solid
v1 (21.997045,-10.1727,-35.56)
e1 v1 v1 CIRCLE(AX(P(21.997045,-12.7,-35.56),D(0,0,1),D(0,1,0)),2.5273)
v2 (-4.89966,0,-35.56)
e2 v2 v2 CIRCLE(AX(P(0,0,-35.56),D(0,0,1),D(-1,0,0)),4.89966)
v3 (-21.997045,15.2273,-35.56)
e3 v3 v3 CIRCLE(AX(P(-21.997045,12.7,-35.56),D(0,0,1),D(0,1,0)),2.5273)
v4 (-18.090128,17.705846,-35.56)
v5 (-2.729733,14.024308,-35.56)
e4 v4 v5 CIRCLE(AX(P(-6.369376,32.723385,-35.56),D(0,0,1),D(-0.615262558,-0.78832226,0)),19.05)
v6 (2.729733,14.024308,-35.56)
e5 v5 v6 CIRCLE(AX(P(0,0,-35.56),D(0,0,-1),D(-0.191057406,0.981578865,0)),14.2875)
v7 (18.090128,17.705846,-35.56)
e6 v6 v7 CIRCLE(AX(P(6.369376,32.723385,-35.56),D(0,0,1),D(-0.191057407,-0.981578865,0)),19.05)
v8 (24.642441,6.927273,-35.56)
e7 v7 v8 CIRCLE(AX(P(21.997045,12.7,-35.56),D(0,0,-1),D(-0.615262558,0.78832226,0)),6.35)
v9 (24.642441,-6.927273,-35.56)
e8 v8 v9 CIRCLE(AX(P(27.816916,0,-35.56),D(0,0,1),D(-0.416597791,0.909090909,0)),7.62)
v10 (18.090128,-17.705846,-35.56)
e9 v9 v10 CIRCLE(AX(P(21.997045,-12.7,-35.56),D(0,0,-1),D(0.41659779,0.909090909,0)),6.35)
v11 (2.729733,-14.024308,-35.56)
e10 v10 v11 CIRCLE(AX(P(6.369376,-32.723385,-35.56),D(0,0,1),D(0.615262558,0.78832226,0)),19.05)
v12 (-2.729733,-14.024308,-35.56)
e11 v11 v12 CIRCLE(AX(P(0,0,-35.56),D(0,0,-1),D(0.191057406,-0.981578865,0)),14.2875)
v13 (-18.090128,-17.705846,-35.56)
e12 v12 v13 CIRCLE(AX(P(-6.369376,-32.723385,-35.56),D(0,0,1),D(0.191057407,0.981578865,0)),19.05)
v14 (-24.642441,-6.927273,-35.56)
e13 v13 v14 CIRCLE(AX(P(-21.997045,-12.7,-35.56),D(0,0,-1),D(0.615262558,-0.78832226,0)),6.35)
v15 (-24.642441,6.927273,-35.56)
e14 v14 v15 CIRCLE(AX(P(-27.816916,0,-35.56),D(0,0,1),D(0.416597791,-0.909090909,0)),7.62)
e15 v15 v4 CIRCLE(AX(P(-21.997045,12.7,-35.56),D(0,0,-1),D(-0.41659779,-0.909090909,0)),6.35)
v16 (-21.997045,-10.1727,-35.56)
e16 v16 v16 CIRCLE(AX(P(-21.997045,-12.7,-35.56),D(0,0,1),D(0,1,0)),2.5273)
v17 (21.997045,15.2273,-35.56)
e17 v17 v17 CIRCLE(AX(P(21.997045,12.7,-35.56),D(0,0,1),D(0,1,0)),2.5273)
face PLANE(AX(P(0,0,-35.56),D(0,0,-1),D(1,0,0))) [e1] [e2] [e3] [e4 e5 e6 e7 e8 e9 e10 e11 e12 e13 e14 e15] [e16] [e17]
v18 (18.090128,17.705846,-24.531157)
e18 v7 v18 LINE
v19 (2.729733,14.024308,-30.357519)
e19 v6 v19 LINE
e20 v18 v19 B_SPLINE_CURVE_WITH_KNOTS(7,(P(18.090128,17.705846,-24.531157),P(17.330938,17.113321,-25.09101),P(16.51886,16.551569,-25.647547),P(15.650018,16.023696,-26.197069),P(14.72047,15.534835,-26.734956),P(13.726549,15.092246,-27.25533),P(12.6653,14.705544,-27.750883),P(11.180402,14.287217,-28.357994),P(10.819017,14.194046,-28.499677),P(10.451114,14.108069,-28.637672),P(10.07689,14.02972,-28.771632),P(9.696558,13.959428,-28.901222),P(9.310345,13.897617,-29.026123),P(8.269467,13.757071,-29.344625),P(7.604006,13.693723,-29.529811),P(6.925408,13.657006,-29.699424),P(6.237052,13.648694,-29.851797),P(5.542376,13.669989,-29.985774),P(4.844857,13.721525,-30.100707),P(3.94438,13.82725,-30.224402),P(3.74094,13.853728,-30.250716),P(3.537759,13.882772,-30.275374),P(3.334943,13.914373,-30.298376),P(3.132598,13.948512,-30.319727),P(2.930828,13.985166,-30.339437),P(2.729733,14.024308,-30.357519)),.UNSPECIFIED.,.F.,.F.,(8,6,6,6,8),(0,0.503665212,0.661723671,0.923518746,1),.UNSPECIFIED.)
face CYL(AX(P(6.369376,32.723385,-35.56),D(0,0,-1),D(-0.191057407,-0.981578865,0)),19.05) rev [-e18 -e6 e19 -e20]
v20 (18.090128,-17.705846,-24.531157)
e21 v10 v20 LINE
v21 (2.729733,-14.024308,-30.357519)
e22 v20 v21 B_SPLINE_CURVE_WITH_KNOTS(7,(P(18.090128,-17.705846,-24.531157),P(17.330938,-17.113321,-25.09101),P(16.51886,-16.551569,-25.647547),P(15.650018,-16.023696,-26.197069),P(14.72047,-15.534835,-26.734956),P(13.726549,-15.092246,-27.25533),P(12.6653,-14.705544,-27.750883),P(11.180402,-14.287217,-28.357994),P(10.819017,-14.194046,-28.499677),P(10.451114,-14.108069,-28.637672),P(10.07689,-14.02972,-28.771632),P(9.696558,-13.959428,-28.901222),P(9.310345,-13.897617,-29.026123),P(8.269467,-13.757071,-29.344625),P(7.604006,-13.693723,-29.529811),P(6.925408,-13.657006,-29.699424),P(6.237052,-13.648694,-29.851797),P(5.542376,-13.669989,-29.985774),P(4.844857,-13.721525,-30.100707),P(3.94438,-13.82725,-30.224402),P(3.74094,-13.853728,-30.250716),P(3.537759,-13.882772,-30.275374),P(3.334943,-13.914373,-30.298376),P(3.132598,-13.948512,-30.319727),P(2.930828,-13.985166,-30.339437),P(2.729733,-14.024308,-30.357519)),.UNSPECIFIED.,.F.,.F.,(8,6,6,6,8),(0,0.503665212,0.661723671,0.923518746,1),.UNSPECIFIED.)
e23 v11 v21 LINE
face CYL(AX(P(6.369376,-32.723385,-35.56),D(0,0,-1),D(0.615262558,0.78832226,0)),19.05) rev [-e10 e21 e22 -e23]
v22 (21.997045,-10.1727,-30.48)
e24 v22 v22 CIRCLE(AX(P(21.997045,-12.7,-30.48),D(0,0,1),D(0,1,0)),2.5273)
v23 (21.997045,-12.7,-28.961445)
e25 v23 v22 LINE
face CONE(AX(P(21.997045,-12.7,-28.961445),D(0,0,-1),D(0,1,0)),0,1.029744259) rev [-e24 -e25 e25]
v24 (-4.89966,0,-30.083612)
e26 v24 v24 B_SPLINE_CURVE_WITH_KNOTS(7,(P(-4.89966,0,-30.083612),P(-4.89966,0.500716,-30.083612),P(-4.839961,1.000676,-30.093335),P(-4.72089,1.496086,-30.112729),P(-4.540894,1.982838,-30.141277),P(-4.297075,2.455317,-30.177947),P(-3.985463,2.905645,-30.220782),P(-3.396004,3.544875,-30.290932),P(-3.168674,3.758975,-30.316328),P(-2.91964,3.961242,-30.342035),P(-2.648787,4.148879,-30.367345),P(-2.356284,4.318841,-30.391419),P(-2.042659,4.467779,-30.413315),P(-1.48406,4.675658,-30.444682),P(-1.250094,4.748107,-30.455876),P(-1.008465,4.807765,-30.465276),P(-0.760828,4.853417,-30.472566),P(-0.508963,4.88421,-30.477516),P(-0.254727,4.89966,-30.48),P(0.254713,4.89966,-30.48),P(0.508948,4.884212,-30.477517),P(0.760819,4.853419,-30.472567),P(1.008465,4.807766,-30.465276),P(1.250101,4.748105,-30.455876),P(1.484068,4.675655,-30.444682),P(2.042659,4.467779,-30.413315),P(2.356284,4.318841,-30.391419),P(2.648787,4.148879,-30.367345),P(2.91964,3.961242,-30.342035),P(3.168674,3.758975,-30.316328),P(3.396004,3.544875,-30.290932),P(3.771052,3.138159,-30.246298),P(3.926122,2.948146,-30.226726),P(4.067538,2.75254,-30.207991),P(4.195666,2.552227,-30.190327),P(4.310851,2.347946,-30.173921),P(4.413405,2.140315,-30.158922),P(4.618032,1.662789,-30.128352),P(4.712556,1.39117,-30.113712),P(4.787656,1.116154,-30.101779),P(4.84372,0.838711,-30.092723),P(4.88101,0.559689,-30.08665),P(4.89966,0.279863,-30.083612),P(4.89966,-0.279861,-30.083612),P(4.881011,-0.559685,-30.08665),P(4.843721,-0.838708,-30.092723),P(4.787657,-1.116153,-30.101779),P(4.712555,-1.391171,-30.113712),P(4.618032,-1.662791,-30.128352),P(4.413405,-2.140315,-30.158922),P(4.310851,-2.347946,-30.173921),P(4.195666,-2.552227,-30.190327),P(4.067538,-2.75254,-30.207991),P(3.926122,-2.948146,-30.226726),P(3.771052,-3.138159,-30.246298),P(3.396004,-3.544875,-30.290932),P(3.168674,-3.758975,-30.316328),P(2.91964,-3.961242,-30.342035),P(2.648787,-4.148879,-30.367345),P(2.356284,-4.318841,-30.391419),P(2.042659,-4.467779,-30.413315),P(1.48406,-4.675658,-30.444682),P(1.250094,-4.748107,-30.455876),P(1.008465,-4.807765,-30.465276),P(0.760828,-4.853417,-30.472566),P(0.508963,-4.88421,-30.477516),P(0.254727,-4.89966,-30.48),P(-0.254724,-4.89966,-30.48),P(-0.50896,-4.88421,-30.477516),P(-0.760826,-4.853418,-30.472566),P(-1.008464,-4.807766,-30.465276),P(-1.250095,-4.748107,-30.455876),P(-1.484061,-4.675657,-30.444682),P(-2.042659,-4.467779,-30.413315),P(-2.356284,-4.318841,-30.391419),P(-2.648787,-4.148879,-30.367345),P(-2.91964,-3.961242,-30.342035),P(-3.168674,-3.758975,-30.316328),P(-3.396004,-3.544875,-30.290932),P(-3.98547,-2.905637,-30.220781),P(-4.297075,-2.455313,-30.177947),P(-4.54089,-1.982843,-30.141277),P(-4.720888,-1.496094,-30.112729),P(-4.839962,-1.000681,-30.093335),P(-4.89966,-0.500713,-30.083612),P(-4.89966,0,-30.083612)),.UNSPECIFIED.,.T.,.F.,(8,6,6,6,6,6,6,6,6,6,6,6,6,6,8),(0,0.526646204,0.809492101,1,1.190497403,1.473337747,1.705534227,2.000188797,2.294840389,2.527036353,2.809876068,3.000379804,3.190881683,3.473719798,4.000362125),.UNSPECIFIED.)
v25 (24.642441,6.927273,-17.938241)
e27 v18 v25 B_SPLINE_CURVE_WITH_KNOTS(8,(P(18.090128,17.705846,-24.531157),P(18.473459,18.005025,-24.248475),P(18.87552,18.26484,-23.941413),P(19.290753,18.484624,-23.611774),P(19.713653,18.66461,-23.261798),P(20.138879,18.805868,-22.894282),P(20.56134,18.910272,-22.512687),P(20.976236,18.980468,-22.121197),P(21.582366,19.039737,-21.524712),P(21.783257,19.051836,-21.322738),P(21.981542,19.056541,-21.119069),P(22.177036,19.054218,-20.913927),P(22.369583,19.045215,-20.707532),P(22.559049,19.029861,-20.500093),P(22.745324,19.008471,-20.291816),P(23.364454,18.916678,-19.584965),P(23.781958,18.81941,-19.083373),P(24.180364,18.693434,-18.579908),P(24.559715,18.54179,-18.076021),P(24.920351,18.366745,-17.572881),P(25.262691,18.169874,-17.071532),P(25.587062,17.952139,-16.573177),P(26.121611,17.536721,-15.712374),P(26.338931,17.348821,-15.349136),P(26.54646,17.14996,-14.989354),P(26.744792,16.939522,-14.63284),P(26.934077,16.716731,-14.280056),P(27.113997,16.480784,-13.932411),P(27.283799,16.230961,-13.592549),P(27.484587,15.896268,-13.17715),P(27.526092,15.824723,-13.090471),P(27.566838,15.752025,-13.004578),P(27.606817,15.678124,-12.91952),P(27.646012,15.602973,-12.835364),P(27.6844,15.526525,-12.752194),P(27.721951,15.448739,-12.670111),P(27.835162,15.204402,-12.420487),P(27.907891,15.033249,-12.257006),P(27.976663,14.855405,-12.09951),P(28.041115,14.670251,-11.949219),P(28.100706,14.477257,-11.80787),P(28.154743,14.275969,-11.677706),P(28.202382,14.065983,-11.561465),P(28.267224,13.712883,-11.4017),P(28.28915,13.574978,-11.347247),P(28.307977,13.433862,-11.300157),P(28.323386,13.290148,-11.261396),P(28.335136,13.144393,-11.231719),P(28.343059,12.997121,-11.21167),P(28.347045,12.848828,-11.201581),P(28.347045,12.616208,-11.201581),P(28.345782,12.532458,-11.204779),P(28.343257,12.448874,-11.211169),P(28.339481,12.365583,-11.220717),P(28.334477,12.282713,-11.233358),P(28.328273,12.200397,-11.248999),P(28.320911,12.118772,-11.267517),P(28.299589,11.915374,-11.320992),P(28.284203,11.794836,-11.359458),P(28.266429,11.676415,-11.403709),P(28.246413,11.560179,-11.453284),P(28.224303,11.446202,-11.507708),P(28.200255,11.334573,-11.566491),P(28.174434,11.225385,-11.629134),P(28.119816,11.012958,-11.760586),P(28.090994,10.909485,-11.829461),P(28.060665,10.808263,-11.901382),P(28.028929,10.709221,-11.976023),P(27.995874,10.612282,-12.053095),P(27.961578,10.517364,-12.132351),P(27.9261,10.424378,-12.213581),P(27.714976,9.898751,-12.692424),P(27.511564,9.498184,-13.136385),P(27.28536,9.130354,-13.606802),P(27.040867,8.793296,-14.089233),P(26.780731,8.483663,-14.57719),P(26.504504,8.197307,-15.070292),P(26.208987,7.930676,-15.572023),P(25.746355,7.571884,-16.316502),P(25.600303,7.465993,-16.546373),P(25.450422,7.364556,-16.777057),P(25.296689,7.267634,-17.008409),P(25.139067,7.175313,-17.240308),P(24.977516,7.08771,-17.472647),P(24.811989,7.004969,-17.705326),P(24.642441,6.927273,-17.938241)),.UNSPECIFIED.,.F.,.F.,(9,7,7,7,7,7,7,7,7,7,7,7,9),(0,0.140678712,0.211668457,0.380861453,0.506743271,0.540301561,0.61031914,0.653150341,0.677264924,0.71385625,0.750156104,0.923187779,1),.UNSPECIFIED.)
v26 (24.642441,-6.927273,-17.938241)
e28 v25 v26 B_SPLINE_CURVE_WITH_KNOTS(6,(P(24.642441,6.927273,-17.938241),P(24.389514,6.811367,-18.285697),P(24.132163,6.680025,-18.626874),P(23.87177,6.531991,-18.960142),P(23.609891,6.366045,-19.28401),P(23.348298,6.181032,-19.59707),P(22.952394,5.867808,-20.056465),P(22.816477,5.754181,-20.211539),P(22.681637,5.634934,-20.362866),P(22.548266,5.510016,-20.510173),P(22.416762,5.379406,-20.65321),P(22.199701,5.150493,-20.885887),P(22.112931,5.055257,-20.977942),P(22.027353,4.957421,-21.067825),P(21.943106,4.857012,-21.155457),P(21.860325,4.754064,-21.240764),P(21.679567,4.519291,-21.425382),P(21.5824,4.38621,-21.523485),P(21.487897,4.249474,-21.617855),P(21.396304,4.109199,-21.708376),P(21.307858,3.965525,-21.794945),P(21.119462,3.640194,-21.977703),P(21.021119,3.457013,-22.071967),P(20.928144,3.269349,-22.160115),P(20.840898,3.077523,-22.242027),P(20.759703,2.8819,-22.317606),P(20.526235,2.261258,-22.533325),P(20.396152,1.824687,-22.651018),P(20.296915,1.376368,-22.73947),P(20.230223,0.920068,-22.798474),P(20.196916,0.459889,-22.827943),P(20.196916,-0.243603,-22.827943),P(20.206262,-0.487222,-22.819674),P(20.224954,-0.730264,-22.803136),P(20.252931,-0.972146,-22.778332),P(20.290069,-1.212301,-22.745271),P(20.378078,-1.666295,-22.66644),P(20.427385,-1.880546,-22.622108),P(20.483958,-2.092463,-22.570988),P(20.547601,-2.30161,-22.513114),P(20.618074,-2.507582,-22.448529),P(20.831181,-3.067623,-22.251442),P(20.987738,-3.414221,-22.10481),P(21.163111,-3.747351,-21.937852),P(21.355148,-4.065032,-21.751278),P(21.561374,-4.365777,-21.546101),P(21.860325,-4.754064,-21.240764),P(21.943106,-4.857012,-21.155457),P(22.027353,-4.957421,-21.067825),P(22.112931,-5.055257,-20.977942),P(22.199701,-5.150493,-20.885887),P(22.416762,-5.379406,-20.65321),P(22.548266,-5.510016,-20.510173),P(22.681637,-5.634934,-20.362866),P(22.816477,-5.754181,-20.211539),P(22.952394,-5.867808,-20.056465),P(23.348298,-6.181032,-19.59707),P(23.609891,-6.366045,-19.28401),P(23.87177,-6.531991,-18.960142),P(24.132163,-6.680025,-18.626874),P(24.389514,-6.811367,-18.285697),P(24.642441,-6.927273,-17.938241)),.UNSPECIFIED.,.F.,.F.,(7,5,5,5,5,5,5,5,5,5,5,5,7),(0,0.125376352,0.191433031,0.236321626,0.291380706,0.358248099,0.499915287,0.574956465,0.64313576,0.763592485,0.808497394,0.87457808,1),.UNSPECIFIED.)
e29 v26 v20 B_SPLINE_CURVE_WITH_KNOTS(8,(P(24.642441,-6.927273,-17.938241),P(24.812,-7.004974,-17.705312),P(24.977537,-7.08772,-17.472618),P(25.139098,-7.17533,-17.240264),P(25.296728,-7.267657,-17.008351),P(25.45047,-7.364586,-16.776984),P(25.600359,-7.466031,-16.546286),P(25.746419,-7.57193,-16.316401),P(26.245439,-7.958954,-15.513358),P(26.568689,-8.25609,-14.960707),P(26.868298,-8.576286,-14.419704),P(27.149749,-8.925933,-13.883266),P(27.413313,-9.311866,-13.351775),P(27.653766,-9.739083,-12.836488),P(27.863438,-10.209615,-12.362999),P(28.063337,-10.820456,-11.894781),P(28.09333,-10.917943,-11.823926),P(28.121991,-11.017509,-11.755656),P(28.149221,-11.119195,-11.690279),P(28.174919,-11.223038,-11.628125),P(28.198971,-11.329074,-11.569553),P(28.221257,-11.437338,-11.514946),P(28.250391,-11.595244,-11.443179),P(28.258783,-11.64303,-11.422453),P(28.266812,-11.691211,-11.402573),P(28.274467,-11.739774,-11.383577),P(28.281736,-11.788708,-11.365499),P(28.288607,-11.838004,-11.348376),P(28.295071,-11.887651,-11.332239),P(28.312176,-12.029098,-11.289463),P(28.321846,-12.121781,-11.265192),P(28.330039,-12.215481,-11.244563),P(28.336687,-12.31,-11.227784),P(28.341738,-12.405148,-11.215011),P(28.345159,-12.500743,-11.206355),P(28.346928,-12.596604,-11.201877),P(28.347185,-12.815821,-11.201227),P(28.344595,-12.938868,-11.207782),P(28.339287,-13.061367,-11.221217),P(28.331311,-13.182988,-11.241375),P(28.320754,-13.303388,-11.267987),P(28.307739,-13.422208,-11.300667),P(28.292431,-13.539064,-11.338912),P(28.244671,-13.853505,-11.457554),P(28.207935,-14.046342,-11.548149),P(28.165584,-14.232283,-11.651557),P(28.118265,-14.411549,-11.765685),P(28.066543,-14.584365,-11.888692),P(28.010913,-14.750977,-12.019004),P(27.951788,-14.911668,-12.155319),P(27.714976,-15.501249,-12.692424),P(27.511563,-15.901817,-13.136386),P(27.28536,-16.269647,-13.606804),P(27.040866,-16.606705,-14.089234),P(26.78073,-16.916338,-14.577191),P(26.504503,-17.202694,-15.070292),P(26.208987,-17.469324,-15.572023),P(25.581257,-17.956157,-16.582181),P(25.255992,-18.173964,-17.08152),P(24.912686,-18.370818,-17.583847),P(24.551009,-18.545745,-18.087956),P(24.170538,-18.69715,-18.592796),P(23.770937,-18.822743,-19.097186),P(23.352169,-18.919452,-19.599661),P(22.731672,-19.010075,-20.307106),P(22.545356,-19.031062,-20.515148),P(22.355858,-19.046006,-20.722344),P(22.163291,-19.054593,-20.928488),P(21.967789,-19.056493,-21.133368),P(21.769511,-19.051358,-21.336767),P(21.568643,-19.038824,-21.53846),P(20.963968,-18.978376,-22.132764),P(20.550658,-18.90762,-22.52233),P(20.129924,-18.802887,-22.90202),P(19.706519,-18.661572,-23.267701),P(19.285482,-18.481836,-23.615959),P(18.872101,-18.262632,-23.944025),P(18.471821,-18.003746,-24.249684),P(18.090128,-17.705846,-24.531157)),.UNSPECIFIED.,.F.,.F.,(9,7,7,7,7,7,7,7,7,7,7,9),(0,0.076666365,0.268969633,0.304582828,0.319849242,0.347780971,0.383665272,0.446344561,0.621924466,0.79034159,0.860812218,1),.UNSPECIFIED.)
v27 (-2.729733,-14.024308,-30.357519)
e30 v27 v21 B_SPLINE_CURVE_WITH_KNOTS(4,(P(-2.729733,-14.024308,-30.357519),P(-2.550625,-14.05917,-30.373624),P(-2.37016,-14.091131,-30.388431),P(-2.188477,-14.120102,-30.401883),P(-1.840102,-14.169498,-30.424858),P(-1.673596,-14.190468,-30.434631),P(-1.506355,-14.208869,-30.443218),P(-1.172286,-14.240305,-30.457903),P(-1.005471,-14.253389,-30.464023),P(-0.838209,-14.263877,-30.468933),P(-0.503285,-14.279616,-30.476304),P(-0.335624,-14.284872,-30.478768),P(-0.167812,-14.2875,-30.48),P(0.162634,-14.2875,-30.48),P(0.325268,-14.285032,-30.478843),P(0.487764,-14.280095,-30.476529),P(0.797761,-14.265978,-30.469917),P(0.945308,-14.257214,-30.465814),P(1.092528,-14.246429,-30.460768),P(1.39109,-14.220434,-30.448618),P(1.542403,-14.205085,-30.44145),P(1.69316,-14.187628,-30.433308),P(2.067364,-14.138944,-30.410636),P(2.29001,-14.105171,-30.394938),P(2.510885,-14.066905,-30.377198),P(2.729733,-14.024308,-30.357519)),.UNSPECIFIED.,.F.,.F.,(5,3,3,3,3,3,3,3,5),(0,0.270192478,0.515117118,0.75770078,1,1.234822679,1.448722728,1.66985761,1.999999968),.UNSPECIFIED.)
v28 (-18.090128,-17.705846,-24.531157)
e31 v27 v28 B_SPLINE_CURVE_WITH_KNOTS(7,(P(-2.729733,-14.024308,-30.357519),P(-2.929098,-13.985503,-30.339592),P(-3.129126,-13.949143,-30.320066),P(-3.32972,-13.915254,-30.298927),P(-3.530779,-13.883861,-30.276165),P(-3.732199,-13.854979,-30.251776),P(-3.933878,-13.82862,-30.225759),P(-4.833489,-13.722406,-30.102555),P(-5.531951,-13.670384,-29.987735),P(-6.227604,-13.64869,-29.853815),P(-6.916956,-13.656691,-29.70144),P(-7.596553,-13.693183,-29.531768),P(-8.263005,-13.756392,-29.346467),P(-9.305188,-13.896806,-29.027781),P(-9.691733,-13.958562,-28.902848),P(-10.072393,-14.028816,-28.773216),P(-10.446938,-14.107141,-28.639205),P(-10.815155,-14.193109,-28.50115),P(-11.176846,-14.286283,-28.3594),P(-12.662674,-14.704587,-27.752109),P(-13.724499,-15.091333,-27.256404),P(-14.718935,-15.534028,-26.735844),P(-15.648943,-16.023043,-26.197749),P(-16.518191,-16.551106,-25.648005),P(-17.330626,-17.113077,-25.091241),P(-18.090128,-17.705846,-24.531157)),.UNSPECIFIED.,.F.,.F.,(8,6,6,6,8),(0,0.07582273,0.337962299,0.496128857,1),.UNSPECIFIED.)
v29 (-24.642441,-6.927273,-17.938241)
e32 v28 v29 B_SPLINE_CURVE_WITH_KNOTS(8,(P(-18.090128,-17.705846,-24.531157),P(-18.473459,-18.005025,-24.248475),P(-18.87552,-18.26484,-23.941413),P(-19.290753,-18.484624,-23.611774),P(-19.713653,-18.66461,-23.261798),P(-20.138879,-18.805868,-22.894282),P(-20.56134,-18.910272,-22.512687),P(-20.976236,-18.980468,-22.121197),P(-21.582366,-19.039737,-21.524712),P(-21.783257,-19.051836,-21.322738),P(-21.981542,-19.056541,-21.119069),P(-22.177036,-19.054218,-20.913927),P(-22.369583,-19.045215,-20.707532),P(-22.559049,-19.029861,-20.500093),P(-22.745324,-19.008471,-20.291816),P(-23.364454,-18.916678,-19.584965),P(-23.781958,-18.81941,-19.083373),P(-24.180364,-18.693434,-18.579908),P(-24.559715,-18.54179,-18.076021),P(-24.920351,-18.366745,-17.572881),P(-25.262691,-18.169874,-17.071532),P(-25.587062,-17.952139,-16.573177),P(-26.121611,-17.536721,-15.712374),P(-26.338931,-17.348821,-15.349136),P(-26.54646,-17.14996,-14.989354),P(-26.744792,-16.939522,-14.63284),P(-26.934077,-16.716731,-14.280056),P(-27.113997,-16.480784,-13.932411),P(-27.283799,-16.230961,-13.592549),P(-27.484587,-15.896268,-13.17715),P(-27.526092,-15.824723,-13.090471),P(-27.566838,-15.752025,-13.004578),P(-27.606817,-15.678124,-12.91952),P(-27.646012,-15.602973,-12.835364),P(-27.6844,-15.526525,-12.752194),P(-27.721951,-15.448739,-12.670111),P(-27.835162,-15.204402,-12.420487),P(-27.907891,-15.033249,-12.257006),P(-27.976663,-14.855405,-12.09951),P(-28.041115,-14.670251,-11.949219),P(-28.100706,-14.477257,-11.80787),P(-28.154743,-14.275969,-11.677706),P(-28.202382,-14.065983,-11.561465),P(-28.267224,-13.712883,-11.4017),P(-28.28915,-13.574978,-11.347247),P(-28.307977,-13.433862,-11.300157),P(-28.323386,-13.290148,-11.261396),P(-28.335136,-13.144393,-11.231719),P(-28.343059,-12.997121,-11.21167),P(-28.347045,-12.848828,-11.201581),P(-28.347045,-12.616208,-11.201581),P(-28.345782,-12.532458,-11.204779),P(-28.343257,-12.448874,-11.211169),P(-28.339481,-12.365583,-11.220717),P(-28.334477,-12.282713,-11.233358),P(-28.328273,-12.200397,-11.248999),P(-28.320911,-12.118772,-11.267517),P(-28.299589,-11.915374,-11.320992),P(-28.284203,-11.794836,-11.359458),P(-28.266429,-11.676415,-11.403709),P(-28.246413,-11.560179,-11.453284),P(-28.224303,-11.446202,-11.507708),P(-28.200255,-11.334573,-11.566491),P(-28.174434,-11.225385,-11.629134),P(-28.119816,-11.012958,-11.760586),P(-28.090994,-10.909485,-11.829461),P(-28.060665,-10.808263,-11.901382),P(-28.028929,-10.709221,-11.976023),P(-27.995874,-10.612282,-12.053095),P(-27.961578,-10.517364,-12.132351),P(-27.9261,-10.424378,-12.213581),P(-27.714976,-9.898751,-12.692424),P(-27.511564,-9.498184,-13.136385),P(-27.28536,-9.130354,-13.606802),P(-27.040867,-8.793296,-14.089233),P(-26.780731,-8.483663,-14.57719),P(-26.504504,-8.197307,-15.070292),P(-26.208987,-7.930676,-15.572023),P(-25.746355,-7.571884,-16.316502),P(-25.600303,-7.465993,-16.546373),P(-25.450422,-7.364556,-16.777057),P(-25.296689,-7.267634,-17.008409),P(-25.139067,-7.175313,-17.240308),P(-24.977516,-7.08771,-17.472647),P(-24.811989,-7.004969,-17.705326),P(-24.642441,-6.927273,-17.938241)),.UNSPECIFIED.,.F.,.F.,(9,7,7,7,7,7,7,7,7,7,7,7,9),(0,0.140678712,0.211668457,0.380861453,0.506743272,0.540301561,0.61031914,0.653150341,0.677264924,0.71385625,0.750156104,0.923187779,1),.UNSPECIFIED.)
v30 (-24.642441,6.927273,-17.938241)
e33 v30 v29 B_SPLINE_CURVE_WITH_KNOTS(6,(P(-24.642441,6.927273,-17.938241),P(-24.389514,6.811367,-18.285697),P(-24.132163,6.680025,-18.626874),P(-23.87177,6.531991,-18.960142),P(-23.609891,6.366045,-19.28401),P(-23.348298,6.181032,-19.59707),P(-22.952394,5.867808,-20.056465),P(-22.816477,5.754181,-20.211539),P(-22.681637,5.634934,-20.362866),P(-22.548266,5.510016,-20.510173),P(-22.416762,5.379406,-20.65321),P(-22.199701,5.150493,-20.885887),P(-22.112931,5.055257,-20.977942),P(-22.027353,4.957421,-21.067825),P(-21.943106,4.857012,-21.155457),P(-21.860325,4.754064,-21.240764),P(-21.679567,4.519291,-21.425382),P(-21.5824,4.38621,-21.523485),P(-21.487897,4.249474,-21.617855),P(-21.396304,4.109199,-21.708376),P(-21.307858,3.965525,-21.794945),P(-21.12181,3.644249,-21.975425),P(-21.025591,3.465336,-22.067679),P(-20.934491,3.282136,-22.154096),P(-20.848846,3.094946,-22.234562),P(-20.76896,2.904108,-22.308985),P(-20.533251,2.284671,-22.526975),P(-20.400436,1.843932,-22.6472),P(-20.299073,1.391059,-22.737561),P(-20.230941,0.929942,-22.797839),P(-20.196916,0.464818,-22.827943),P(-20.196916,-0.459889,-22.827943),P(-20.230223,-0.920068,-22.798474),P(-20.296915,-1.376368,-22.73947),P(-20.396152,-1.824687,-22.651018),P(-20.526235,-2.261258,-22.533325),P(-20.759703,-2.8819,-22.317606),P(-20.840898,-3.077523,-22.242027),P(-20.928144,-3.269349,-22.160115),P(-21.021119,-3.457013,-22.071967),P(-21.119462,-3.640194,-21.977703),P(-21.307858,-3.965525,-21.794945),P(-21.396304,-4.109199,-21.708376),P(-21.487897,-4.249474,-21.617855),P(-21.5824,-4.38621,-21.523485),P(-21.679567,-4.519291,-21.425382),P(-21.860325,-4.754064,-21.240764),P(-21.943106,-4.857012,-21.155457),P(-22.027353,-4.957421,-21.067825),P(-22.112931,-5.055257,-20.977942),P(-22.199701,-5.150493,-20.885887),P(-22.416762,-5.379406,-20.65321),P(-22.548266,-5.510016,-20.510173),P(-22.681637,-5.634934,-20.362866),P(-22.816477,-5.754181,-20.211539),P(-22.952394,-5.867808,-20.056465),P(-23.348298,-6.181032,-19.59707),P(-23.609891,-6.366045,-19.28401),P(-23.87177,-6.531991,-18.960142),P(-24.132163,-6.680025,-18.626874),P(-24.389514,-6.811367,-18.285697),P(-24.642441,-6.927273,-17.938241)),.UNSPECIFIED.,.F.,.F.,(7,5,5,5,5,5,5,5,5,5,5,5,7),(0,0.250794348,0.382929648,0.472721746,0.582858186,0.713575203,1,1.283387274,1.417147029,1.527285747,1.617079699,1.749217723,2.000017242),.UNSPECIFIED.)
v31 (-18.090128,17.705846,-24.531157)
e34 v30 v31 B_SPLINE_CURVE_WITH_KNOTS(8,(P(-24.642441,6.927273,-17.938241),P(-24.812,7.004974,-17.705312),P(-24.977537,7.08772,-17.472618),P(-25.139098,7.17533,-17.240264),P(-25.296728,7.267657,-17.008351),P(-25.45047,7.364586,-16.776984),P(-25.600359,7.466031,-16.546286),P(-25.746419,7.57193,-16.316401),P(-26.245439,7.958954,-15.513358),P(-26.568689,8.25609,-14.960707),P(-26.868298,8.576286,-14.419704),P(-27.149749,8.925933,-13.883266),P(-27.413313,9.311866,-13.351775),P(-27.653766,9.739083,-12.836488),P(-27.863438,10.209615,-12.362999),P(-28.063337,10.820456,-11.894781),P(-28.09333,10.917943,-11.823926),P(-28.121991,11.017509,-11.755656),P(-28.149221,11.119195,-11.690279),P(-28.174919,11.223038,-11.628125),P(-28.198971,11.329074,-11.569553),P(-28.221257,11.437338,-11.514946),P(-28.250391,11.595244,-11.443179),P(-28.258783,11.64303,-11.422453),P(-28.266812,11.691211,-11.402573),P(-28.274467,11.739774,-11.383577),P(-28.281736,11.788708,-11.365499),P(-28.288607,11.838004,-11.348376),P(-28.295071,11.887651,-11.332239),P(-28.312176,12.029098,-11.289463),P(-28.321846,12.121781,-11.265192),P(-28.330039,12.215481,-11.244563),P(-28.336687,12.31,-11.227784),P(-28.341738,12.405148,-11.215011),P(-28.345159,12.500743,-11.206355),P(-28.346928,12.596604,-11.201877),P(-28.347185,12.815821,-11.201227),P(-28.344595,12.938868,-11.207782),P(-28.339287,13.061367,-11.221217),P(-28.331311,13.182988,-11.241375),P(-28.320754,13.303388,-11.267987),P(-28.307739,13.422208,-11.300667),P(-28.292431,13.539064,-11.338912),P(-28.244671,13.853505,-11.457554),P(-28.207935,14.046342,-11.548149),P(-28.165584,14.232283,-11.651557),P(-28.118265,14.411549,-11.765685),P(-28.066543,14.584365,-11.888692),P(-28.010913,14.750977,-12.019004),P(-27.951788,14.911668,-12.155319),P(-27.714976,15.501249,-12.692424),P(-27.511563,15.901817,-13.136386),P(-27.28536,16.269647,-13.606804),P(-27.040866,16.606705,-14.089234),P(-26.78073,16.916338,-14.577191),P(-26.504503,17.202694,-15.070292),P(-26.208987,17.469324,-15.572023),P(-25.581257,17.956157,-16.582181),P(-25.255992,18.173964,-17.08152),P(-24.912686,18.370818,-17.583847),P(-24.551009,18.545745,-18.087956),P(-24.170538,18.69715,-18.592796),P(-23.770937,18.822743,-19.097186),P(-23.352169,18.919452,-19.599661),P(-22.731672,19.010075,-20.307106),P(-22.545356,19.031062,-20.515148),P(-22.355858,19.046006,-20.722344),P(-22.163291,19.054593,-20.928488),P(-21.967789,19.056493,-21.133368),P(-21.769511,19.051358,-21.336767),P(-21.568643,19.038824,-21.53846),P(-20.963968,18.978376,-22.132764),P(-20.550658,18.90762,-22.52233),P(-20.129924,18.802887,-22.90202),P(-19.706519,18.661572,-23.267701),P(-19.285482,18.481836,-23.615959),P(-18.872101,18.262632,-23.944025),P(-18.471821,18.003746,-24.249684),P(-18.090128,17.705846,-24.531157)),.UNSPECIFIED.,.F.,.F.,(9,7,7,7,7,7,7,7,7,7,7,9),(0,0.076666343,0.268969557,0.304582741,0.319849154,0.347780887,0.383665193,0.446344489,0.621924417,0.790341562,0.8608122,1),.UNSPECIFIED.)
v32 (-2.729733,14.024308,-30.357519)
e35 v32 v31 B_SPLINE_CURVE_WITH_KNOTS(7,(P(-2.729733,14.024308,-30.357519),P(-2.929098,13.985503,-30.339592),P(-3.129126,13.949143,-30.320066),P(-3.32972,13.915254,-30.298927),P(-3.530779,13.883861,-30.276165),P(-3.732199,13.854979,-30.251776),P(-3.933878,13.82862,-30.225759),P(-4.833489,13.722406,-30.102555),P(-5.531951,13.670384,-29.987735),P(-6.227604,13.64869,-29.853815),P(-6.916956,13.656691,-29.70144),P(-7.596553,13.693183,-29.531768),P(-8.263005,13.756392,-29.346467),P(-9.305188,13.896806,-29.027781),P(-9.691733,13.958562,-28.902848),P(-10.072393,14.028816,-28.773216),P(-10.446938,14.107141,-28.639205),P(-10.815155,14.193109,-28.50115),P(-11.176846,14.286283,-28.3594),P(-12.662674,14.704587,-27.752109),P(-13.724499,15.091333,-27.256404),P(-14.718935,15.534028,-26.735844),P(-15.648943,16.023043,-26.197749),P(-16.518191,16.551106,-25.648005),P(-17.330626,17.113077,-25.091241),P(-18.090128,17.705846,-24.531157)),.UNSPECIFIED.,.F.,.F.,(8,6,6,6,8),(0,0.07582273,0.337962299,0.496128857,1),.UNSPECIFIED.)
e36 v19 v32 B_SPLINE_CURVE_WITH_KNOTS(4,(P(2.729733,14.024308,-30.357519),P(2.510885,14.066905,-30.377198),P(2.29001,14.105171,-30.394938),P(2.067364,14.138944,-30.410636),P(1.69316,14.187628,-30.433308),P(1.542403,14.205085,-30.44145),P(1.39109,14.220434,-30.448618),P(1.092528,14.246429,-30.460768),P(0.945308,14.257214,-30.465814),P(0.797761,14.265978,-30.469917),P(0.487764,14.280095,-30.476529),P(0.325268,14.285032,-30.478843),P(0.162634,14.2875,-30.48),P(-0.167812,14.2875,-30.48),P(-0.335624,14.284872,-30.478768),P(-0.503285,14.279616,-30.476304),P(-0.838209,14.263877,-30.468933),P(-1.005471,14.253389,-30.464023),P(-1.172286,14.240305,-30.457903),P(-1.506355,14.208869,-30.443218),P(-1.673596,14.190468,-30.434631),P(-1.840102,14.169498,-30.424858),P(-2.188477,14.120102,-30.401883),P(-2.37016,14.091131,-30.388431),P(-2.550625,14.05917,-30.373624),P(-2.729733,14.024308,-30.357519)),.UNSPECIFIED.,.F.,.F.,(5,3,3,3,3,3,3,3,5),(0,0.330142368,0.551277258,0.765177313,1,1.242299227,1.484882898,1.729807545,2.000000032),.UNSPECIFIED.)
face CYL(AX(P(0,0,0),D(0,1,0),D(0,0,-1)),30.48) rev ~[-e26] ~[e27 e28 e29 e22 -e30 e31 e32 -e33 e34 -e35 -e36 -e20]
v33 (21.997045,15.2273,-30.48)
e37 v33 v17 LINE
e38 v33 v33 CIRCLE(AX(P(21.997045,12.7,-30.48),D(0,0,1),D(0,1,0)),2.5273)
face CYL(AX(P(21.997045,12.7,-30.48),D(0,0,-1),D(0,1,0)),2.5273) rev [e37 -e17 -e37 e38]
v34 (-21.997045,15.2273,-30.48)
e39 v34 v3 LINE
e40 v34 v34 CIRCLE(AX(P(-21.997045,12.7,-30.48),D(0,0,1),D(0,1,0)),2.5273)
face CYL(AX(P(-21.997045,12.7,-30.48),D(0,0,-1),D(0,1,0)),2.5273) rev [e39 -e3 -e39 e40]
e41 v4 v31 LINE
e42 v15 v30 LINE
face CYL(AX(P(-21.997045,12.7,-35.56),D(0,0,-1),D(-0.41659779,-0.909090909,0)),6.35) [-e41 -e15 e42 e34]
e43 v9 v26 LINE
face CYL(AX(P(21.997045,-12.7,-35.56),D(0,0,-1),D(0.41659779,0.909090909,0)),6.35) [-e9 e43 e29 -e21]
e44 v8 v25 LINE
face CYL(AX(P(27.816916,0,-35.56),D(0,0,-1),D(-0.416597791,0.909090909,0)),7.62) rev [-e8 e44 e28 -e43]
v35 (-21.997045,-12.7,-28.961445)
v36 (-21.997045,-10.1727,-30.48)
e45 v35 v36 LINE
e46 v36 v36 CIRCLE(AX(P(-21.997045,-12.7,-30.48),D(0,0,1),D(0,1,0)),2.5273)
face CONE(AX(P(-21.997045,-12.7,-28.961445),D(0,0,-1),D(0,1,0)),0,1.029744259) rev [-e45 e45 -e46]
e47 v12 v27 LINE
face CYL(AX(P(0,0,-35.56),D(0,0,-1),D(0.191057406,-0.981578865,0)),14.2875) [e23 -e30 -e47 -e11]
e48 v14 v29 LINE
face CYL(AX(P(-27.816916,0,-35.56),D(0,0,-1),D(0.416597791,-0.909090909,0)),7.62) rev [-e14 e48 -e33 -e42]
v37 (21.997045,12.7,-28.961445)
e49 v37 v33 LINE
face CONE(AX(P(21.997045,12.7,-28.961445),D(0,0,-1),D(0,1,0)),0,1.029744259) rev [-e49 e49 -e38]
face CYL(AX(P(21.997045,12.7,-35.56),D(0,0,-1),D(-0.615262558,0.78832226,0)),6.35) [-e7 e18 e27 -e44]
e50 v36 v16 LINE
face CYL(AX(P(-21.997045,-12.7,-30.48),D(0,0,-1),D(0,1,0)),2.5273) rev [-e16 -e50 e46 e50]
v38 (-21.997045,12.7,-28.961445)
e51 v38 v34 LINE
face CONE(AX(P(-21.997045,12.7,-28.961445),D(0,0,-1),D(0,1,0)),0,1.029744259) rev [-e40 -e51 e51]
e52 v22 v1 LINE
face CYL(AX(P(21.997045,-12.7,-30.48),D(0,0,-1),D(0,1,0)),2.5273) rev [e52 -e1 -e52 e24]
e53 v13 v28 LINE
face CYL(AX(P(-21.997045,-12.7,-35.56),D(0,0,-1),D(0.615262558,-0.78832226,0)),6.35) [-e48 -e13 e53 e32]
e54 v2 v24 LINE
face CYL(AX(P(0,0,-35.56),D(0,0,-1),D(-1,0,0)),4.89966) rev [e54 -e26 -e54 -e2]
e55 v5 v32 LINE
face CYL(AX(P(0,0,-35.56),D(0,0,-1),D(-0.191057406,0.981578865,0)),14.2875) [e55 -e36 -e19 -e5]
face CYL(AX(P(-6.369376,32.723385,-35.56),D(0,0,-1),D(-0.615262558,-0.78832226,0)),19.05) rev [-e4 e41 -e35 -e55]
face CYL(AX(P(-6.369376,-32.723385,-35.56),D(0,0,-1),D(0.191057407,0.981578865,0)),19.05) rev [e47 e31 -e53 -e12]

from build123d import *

# Parameters (mm, degrees)
SKETCH2_W                           = 30.48
SKETCH2_H                           = 152.4
BOSS_EXTRUDE1_DEPTH                 = 25.4
BOSS_EXTRUDE1_DEPTH_BACK            = 5.08
SKETCH4_R                           = 4.89966
F_8_0_199_DIAMETER_HOLE1_AT_2_COUNT = 2
F_8_0_199_DIAMETER_HOLE1_AT_2_PITCH = 50.8
F_8_0_199_DIAMETER_HOLE1_AT_3_COUNT = 2
F_8_0_199_DIAMETER_HOLE1_AT_3_PITCH = 43.994090512
F_8_0_199_DIAMETER_HOLE1_AT_4_COUNT = 2
F_8_0_199_DIAMETER_HOLE1_AT_4_PITCH = 25.4


with BuildPart() as part:
    # Sketch2 → Revolve1 (revolve)
    with BuildSketch(Plane(origin=(0, 0, 0), x_dir=(0, 0, -1), z_dir=(1, 0, 0))):
        with Locations((15.24, 0)):
            Rectangle(SKETCH2_W, SKETCH2_H)
    revolve(axis=Axis((0, -76.2, 0), (0, 1, 0)))


with BuildPart() as body_2:
    # Sketch4 → Boss-Extrude1 (new, two sides: drawn at the far end of the back side and taken through both)
    with BuildSketch(Plane(origin=(0, 0, -30.48), x_dir=(-1, 0, 0), z_dir=(0, 0, 1)).offset(-BOSS_EXTRUDE1_DEPTH_BACK)):
        with BuildLine():
            ThreePointArc((-24.642441225, -6.927272727), (-20.196916389, 0), (-24.642441225, 6.927272727))
            ThreePointArc((-24.642441225, 6.927272727), (-27.423118543, 15.998519166), (-18.090128015, 17.705846349))
            ThreePointArc((-18.090128015, 17.705846349), (-10.809478571, 14.198051615), (-2.729732697, 14.024308028))
            ThreePointArc((-2.729732697, 14.024308028), (0, 14.2875), (2.729732697, 14.024308028))
            ThreePointArc((2.729732697, 14.024308028), (10.809478571, 14.198051615), (18.090128015, 17.705846349))
            ThreePointArc((18.090128015, 17.705846349), (27.423118543, 15.998519166), (24.642441225, 6.927272727))
            ThreePointArc((24.642441225, 6.927272727), (20.196916389, 0), (24.642441225, -6.927272727))
            ThreePointArc((24.642441225, -6.927272727), (27.423118543, -15.998519166), (18.090128015, -17.705846349))
            ThreePointArc((18.090128015, -17.705846349), (10.809478571, -14.198051615), (2.729732697, -14.024308028))
            ThreePointArc((2.729732697, -14.024308028), (0, -14.2875), (-2.729732697, -14.024308028))
            ThreePointArc((-2.729732697, -14.024308028), (-10.809478571, -14.198051615), (-18.090128015, -17.705846349))
            ThreePointArc((-18.090128015, -17.705846349), (-27.423118543, -15.998519166), (-24.642441225, -6.927272727))
        make_face()
        Circle(SKETCH4_R, mode=Mode.SUBTRACT)
    extrude(amount=BOSS_EXTRUDE1_DEPTH + BOSS_EXTRUDE1_DEPTH_BACK)

    # Sketch10 → #8 (0.199) Diameter Hole1 (revolve, cut)
    with BuildSketch(Plane(origin=(-21.997045256, 12.7, -35.56), x_dir=(0, 1, 0), z_dir=(1, 0, 0))):
        Polygon((0, 0), (0, 6.598555042), (2.5273, 5.08), (2.5273, 0), align=None)
    f_8_0_199_diameter_hole1 = revolve(axis=Axis((-21.997045256, 12.7, -41.91), (0, 0, 1)), mode=Mode.SUBTRACT)

    # #8 (0.199) Diameter Hole1 at 2: #8 (0.199) Diameter Hole1 ×2
    with Locations(*[Vector(0.8660254037844379, -0.5000000000000014, -6.031920370010707e-15) * (i * F_8_0_199_DIAMETER_HOLE1_AT_2_PITCH) for i in range(1, F_8_0_199_DIAMETER_HOLE1_AT_2_COUNT)]):
        add(f_8_0_199_diameter_hole1, mode=Mode.SUBTRACT)

    # #8 (0.199) Diameter Hole1 at 3: #8 (0.199) Diameter Hole1 ×2
    with Locations(*[(i * F_8_0_199_DIAMETER_HOLE1_AT_3_PITCH, 0, 0) for i in range(1, F_8_0_199_DIAMETER_HOLE1_AT_3_COUNT)]):
        add(f_8_0_199_diameter_hole1, mode=Mode.SUBTRACT)

    # #8 (0.199) Diameter Hole1 at 4: #8 (0.199) Diameter Hole1 ×2
    with Locations(*[(0, -i * F_8_0_199_DIAMETER_HOLE1_AT_4_PITCH, 0) for i in range(1, F_8_0_199_DIAMETER_HOLE1_AT_4_COUNT)]):
        add(f_8_0_199_diameter_hole1, mode=Mode.SUBTRACT)

    # Combine4: cut part
    add(part.part, mode=Mode.SUBTRACT)


solid = body_2.part
